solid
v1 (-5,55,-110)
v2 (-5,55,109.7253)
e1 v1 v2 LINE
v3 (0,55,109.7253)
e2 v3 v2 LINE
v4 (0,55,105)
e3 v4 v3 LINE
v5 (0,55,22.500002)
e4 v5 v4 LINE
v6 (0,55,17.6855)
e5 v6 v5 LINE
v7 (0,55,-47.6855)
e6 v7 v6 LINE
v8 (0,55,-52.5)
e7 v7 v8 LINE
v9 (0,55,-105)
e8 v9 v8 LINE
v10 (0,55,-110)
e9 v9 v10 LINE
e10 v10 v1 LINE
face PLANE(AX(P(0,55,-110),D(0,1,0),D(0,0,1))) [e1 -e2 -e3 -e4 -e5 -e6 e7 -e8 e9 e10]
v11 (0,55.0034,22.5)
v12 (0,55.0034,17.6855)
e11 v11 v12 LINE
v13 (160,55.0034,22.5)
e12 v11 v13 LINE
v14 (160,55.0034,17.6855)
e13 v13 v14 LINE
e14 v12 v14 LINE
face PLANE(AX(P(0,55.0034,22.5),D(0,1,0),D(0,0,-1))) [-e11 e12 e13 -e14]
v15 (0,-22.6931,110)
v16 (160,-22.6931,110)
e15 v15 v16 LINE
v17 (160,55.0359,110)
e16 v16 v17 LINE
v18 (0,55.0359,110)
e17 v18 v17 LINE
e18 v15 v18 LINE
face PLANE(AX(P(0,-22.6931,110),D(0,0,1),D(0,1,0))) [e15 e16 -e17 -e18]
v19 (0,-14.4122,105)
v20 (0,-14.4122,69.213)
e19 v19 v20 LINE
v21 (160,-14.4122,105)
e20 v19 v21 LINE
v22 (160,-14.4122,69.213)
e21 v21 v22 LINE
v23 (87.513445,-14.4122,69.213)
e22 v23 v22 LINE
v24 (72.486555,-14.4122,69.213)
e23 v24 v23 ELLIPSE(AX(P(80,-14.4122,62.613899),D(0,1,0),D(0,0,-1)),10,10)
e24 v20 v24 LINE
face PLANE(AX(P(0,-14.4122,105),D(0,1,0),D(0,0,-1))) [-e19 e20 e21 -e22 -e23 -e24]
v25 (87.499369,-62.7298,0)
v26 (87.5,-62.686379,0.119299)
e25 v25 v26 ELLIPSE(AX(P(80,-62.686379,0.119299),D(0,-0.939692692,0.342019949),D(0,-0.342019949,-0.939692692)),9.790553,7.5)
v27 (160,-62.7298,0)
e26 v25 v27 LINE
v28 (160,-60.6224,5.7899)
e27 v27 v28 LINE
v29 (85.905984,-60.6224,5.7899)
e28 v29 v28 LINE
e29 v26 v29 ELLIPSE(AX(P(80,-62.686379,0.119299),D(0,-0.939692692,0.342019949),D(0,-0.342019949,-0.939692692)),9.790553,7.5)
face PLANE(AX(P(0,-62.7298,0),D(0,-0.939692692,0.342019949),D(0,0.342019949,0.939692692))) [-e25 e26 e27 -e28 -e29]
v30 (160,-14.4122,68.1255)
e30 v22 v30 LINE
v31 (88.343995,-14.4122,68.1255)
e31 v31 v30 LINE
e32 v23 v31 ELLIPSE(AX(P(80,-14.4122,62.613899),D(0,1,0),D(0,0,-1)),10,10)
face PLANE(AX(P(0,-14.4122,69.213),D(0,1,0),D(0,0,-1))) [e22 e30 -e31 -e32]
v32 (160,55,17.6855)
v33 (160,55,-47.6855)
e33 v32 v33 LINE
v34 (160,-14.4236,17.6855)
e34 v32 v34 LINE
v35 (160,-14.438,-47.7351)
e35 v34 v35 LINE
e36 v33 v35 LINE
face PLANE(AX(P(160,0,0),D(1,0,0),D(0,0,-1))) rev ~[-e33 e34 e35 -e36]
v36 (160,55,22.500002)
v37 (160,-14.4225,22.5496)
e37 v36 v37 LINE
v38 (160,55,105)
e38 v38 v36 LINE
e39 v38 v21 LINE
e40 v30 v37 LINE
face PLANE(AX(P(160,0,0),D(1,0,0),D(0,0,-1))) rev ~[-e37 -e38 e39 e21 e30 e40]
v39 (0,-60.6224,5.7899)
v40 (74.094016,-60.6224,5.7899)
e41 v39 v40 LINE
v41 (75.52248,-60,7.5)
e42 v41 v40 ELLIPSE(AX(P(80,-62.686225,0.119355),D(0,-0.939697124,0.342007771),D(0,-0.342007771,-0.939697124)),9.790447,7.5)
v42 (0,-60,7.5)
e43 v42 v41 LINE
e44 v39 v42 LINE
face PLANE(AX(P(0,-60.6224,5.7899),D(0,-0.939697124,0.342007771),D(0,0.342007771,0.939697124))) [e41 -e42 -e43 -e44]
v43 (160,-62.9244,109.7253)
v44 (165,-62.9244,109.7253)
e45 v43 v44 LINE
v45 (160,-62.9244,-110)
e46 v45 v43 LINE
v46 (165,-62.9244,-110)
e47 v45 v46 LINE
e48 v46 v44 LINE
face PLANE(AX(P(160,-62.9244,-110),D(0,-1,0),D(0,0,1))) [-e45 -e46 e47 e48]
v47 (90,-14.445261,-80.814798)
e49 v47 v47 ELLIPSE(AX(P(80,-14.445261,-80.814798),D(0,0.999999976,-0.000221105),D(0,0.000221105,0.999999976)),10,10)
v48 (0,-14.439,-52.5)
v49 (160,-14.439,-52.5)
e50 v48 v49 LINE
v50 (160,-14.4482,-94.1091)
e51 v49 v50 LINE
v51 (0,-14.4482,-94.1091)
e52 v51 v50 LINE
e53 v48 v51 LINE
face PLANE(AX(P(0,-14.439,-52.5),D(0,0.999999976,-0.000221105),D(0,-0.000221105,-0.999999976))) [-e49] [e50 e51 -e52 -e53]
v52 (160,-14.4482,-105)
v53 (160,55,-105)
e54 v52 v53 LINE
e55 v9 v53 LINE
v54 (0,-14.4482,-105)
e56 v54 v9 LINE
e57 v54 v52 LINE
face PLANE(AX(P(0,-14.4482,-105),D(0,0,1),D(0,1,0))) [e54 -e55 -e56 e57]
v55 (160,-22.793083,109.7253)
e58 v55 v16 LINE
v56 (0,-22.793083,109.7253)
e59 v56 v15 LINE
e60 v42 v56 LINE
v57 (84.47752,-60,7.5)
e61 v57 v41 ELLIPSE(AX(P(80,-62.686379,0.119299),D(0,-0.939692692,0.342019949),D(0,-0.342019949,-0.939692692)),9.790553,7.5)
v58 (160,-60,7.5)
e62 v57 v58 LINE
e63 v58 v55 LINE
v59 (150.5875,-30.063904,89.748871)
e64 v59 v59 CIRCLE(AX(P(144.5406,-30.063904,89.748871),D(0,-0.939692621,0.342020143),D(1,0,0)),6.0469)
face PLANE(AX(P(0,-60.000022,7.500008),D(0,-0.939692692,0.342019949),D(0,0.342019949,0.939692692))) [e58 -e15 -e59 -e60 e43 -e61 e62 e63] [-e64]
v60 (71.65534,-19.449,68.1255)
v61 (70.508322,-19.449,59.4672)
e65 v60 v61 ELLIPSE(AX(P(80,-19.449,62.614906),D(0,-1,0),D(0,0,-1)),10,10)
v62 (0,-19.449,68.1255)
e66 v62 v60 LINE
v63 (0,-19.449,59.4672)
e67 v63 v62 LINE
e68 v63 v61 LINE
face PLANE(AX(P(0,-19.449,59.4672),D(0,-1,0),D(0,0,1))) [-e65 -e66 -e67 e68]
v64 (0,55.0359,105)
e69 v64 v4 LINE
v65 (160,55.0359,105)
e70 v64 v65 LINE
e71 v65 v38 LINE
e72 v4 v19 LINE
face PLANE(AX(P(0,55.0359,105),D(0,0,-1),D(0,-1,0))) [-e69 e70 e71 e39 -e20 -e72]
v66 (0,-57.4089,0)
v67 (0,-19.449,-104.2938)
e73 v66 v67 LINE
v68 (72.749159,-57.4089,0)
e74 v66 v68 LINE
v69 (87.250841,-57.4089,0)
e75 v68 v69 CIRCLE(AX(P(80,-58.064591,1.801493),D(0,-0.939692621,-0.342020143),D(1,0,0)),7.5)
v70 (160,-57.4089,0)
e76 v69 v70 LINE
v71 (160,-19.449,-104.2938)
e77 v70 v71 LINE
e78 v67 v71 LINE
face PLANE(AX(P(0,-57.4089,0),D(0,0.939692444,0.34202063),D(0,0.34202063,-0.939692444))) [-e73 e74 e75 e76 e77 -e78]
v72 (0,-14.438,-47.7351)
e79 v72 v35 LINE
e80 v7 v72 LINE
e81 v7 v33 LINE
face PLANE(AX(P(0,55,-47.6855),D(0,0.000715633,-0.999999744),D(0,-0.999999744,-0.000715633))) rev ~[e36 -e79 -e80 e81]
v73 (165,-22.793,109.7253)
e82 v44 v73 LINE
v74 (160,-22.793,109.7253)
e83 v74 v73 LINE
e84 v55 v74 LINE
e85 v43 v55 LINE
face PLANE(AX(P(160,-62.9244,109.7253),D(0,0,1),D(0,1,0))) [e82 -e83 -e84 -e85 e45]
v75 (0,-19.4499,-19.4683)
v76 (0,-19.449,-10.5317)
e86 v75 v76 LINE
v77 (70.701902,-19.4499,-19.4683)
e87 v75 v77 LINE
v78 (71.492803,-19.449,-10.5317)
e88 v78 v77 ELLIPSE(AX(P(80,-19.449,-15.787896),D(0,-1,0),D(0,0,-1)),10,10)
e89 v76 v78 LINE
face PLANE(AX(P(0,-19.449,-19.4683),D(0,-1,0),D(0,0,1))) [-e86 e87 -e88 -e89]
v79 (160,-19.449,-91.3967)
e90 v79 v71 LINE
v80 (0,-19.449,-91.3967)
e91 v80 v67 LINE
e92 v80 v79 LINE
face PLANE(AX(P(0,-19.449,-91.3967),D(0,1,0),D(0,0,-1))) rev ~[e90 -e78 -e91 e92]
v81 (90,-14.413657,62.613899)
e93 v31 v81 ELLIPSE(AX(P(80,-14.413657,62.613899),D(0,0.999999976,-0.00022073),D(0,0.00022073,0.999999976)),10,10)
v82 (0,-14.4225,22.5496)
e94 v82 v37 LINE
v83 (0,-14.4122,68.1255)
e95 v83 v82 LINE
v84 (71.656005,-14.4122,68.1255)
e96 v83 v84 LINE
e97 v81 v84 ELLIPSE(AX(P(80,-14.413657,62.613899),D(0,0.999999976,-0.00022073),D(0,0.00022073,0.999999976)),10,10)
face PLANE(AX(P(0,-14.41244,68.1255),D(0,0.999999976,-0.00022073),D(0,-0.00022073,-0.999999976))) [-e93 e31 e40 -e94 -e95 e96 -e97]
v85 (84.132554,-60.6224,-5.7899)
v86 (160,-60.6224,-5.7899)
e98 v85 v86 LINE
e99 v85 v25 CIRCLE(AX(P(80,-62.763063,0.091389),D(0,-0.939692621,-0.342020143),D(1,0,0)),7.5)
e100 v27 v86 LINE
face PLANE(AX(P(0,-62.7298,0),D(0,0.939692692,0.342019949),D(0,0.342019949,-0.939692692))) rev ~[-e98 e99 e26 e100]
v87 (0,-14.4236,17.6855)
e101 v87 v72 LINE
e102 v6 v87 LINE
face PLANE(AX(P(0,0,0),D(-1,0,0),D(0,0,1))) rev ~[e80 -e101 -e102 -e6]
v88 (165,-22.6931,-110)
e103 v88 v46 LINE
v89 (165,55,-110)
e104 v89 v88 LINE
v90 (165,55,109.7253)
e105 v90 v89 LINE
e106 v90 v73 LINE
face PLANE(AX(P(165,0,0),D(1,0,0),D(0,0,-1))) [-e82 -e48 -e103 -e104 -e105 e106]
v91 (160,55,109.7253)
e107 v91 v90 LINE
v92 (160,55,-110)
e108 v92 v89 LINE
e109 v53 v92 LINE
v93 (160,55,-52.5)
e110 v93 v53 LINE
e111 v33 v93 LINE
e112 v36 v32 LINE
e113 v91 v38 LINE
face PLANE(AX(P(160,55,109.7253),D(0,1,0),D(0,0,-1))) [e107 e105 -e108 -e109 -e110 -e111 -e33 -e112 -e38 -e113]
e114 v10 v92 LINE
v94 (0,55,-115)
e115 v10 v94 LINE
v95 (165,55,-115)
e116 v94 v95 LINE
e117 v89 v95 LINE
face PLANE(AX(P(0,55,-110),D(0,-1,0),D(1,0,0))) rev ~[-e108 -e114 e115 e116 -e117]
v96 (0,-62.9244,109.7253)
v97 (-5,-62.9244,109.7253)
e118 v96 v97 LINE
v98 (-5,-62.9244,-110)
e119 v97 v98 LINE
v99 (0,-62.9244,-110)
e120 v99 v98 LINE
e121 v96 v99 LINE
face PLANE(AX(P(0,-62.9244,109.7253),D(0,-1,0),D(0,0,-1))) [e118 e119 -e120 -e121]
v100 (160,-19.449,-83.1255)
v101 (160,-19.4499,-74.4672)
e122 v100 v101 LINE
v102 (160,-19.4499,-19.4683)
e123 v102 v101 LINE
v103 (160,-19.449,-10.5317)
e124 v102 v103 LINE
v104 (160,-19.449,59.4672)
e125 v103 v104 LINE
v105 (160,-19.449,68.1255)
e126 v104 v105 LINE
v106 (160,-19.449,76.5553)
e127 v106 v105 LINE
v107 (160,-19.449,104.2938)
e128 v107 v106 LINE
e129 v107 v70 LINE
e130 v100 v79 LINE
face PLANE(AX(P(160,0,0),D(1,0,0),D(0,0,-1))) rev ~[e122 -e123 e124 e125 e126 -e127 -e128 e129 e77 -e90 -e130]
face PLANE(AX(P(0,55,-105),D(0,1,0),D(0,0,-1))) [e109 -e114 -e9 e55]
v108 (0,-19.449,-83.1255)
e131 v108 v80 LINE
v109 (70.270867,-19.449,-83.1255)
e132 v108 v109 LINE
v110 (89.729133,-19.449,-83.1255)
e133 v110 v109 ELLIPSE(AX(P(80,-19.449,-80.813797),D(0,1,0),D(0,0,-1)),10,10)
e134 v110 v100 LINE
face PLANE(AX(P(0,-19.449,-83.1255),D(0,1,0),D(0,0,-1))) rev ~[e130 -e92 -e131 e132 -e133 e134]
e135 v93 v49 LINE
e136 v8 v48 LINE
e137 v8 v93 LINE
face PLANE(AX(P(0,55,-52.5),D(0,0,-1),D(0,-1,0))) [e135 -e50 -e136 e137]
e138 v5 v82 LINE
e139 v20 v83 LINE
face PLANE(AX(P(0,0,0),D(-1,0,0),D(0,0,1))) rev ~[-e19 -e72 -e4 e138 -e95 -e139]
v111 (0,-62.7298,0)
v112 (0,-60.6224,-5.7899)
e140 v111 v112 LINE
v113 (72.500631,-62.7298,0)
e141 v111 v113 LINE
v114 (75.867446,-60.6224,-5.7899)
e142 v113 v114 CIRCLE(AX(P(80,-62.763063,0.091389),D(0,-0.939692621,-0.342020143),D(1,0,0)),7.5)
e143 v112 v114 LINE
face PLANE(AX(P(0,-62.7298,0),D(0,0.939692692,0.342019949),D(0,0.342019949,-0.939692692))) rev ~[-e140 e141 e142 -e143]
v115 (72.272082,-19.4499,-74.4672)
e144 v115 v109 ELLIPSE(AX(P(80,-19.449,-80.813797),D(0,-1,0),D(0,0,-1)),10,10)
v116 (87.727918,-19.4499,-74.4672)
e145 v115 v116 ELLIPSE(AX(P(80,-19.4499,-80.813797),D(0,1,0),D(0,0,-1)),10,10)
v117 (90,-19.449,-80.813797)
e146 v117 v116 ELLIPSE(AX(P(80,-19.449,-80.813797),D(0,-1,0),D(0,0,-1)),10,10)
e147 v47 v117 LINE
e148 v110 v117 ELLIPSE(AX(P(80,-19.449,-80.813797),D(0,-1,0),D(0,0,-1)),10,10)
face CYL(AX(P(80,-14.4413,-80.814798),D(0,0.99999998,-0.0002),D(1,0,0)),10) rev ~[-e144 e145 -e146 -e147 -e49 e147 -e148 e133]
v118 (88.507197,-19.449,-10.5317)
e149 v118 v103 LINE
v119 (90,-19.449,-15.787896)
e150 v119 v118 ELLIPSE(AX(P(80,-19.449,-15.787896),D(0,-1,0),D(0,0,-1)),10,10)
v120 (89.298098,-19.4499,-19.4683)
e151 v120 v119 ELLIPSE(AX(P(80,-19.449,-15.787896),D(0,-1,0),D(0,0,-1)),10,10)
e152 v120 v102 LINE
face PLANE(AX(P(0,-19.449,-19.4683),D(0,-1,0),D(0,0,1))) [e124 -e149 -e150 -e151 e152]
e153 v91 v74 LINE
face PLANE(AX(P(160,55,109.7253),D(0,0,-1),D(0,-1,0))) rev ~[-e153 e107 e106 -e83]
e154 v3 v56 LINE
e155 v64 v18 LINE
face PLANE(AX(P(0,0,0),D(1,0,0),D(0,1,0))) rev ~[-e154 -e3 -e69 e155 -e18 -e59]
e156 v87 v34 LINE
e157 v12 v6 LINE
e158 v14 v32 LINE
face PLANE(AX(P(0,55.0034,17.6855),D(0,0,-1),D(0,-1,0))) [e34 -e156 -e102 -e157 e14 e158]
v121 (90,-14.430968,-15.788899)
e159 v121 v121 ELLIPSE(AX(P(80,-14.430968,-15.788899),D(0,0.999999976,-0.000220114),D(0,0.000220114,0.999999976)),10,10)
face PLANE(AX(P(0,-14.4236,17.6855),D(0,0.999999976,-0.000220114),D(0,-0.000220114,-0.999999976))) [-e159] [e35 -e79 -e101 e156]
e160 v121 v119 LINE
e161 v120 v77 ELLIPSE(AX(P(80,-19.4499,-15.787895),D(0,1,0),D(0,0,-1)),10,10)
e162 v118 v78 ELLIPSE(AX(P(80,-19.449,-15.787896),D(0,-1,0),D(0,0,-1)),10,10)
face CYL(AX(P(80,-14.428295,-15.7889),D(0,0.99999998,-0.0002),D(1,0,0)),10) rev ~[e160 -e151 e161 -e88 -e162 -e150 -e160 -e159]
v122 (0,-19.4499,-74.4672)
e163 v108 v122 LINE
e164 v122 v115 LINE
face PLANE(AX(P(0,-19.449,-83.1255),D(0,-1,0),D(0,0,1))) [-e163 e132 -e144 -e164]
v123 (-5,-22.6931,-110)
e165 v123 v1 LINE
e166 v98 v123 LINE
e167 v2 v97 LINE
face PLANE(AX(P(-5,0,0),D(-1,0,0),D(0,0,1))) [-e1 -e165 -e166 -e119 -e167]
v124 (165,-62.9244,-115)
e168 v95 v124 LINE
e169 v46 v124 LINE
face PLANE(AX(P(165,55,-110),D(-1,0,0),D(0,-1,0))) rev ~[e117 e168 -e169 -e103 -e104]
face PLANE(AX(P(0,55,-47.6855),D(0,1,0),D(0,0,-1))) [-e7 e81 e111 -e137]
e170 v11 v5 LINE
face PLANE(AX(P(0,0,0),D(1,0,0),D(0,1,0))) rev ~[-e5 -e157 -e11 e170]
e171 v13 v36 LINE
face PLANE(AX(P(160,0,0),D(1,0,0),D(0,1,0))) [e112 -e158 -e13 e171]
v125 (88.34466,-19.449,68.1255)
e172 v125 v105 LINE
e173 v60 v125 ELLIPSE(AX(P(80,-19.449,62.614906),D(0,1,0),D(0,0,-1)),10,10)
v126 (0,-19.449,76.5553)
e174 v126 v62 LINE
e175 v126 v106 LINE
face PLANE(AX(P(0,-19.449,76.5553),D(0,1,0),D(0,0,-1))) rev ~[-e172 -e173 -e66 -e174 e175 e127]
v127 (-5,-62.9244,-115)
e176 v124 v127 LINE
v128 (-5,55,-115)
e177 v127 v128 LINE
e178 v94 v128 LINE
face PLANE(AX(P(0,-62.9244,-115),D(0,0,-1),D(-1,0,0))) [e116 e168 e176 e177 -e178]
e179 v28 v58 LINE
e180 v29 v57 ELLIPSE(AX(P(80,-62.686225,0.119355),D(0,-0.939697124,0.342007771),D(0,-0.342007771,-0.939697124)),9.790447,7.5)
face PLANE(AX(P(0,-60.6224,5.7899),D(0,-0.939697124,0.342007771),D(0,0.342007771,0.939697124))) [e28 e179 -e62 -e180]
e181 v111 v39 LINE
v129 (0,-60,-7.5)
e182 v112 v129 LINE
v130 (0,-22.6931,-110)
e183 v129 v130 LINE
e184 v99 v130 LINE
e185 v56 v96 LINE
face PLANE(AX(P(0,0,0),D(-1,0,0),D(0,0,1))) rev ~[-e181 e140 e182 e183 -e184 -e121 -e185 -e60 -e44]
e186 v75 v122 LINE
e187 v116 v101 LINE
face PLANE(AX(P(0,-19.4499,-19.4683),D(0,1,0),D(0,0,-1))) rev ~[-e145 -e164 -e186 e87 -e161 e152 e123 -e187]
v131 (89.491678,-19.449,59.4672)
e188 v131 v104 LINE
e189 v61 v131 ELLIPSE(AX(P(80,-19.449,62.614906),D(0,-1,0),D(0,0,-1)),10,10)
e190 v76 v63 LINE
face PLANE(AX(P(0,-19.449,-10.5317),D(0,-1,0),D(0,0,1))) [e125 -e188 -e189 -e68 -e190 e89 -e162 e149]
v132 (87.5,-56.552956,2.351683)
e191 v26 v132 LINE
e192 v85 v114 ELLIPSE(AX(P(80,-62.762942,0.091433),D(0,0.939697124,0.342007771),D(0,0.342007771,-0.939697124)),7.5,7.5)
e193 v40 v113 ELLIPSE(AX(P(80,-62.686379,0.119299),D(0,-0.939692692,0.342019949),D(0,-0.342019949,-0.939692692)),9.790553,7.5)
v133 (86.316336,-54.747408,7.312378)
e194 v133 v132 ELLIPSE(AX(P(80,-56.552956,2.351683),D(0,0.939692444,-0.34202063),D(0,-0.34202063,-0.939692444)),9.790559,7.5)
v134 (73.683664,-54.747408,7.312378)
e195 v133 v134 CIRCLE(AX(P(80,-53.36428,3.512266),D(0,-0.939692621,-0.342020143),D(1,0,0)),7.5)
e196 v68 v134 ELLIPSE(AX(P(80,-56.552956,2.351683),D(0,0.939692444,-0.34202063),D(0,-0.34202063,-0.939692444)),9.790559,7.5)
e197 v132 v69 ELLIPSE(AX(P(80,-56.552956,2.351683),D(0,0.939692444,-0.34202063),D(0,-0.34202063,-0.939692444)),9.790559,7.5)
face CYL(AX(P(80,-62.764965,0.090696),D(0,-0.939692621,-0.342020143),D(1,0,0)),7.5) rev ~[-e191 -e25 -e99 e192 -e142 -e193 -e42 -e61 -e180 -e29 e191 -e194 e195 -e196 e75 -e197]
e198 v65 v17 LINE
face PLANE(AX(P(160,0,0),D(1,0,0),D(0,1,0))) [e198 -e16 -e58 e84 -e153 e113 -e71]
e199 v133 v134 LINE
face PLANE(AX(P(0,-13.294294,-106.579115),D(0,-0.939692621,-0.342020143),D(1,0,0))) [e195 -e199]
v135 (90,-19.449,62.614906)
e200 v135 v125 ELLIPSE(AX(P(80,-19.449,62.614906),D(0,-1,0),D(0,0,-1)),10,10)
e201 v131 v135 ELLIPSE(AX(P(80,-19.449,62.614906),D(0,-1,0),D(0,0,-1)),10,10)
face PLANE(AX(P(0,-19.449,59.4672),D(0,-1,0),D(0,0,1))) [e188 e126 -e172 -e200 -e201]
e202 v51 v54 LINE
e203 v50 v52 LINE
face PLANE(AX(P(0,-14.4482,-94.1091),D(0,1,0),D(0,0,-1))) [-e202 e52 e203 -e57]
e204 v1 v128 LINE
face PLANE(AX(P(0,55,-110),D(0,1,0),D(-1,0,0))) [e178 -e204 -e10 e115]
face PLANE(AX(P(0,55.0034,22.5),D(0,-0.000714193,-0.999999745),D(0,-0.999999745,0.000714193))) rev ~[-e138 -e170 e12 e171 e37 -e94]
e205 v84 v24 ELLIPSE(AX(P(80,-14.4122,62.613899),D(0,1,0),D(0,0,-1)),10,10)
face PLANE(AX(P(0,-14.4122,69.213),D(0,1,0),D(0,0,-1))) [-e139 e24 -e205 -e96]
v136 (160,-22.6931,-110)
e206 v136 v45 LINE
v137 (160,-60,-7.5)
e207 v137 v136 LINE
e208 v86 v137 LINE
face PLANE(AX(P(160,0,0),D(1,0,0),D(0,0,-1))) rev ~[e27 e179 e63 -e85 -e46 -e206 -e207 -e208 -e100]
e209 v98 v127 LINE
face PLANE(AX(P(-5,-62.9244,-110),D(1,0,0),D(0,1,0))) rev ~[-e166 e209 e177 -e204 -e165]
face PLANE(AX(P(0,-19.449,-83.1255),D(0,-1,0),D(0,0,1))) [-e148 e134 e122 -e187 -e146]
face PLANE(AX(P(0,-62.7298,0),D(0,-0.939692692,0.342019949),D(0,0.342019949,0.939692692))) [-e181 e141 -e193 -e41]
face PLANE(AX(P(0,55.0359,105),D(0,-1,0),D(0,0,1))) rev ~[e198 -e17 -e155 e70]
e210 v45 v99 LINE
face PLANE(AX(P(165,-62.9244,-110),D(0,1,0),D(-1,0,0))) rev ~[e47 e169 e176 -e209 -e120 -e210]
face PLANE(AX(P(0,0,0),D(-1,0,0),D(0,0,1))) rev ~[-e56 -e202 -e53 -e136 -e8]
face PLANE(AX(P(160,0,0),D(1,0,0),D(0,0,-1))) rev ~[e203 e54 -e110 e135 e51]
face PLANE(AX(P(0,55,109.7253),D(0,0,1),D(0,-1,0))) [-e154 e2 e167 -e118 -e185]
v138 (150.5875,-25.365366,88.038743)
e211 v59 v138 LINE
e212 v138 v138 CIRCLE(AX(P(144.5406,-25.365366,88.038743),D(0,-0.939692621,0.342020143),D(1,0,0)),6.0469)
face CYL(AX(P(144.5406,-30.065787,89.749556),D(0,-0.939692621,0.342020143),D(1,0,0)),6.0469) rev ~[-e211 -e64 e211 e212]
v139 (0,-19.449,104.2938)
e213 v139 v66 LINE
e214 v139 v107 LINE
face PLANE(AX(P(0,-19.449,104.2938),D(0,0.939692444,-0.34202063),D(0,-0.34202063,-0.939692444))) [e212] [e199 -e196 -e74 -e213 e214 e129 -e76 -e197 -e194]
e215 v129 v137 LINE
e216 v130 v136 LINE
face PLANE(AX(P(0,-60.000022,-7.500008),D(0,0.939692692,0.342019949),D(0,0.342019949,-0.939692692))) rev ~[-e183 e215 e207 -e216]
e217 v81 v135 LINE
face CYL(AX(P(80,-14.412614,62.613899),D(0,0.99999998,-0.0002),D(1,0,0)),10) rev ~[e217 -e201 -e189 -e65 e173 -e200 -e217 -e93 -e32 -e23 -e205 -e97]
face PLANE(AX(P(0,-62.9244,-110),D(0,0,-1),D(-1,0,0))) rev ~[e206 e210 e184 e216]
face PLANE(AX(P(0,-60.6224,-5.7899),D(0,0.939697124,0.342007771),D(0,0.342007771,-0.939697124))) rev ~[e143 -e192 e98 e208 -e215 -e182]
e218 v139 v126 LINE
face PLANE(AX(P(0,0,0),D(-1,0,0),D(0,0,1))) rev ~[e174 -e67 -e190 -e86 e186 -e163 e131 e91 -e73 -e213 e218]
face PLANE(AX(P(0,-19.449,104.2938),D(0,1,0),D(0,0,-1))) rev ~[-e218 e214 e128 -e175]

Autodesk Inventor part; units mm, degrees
ref_plane "YZ Plane" through (0, 0, 0) normal (1, 0, 0) x (0, 1, 0)
ref_plane "XZ Plane" through (0, 0, 0) normal (0, 1, 0) x (-1, 0, 0)
ref_plane "XY Plane" through (0, 0, 0) normal (0, 0, 1) x (1, 0, 0)
sketch "Sketch1" plane through (0, 0, 0) normal (1, 0, 0) x (0, 1, 0)
  line L0 (-22.6931, 110) -> (55.0359, 110)
  line L1 (55, -110) -> (-22.6931, -110)
  line L2 (-62.7298, 0) -> (-22.6931, -110)
  line L3 (-62.7298, 0) -> (-22.6931, 110)
  line L4 (-57.4089, 0) -> (-19.449, -104.2938)
  line L5 (-14.4482, -105) -> (55, -105)
  line L6 (55.0359, 105) -> (-14.4122, 105)
  line L7 (-19.449, 104.2938) -> (-57.4089, 0)
  line L8 (55.0034, 17.6855) -> (-14.4593, 17.6855)
  line L9 (55.0034, 22.5) -> (-14.4456, 22.5496)
  line L10 (55, -52.5) -> (-14.449, -52.5)
  line L11 (55, -47.6855) -> (-14.449, -47.7352)
  line L12 (-60.6224, -5.7899) -> (-60, -7.5)
  line L13 (-60.6224, 5.7899) -> (-60, 7.5)
  line L14 (-14.4122, 105) -> (-14.4122, 68.1255)
  line L15 (-14.4456, 59.4672) -> (-14.4456, 22.5496)
  line L16 (-19.449, 104.2938) -> (-19.449, 68.1255)
  line L17 (-14.4593, 17.6855) -> (-14.4593, -10.5317)
  line L18 (-14.449, -19.4683) -> (-14.449, -47.7352)
  line L19 (-19.4705, 59.4672) -> (-19.4705, -10.5317)
  line L20 (-14.449, -52.5) -> (-14.449, -74.4672)
  line L21 (-14.4482, -83.1255) -> (-14.4482, -105.0928)
  line L22 (-19.4499, -19.4683) -> (-19.4499, -74.4672)
  line L23 (-19.449, -83.1255) -> (-19.449, -104.2938)
  line L24 (-19.449, -74.4672) -> (-19.4499, -74.4672)
  line L25 (-14.4593, -83.1255) -> (-14.4482, -83.1255)
  line L26 (-19.4499, -19.4683) -> (-19.449, -19.4683)
  line L27 (-19.4705, -10.5317) -> (-19.449, -10.5317)
  line L28 (-14.4122, 68.1255) -> (-14.4125, 68.1255)
  line L29 (-19.4705, 59.4672) -> (-19.449, 59.4672)
  line L30 (55.0359, 105) -> (55.0359, 110)
  line L31 (55.0034, 22.5) -> (55.0034, 17.6855)
  line L32 (55, -47.6855) -> (55, -52.5)
  line L33 (55, -105) -> (55, -110)
  line L34 (-19.449, -91.3967) -> (-19.449, 76.5553)
  line L35 (-14.4122, 69.213) -> (-14.4225, 22.5496)
  line L36 (-14.4236, 17.6855) -> (-14.438, -47.7351)
  line L37 (-14.439, -52.5) -> (-14.4482, -94.1091)
  point P0 (0, 0)
extrude "Extrusion1" add sketch "Sketch1" along normal blind 160
sketch "Sketch2" plane through (0, -14.4236, 17.6855) normal (0, 1, -0.0002) x (1, 0, 0)
  circle A0 centre (80, 33.4744) radius 10
  circle A1 centre (80, 98.5003) radius 10
  circle A2 centre (80, -44.9284) radius 10
  point P0 (0, 17.6824)
  dimension "d24" = 20
  dimension "d25" = 20
  dimension "d26" = 20
extrude "Extrusion2" cut sketch "Sketch2" against normal blind 6
sketch "Sketch3" plane through (0, -22.6931, -110) normal (0, -0.9397, -0.342) x (1, 0, 0)
  point P0 (0, 95.6047)
sketch "Sketch4" plane through (0, -22.6931, -110) normal (0, -0.9397, -0.342) x (1, 0, 0)
  line L0 (0, 117.1568) -> (160, 117.1568) projected
  circle A0 centre (80, 117.1568) radius 7.5
  point P0 (0, 95.6047)
  dimension "d29" = 15
extrude "Extrusion3" cut sketch "Sketch4" against normal blind 10
sketch "Sketch5" plane through (0, 0, 0) normal (-1, 0, 0) x (0, 0, 1)
  line L0 (-110, -22.6931) -> (-110, 55) projected
  line L1 (-110, 55) -> (109.7253, 55)
  line L2 (109.7253, 55) -> (109.7253, -62.9244)
  line L3 (109.7253, -62.9244) -> (-110, -62.9244)
  line L4 (-110, -62.9244) -> (-110, 55)
  point P0 (0, 0)
extrude "Extrusion4" add sketch "Sketch5" along normal blind 5
sketch "Sketch6" plane through (160, 0, 0) normal (1, 0, 0) x (0, 0, -1)
  line L0 (-109.7253, 55) -> (-109.7253, -22.793) projected
  line L1 (110, -22.6931) -> (110, -62.9244) projected
  line L2 (-109.7253, 55) -> (110, 55)
  line L3 (110, 55) -> (110, -62.9244)
  line L4 (110, -62.9244) -> (-109.7253, -62.9244)
  line L5 (-109.7253, -62.9244) -> (-109.7253, 55)
  point P0 (0, 0)
extrude "Extrusion5" add sketch "Sketch6" along normal blind 5
sketch "Sketch7" plane through (0, -62.9244, 109.7253) normal (0, 0, 1) x (1, 0, 0)
  line L0 (-5, 117.9244) -> (165, 117.9244) projected
  line L1 (-5, 117.9244) -> (165, 117.9244)
  line L2 (165, 117.9244) -> (165, 0)
  line L3 (165, 0) -> (-5, 0)
  line L4 (-5, 0) -> (-5, 117.9244)
  line L5 (165, 0) -> (-5, 0)
  line L6 (-5, 0) -> (-5, 117.9244)
  line L7 (-5, 117.9244) -> (165, 117.9244)
  line L8 (165, 117.9244) -> (165, 0)
  point P0 (0, 62.9244)
sketch "Sketch8" plane through (0, -22.6931, 110) normal (0, -0.9397, 0.342) x (1, 0, 0)
  circle A0 centre (144.5406, -21.5508) radius 6.0469
  point P0 (0, -95.6047)
extrude "Extrusion6" cut sketch "Sketch8" against normal blind 6
sketch "Sketch9" plane through (0, -62.9244, -110) normal (0, 0, -1) x (-1, 0, 0)
  line L0 (-165, 117.9244) -> (-165, 0) projected
  line L1 (0, 117.9244) -> (5, 117.9244) projected
  line L2 (-165, 0) -> (5, 0)
  line L3 (5, 0) -> (5, 117.9244)
  line L4 (5, 117.9244) -> (-165, 117.9244)
  line L5 (-165, 117.9244) -> (-165, 0)
  point P0 (0, 62.9244)
extrude "Extrusion7" add sketch "Sketch9" along normal blind 5
properties part number "Storage Tank"
